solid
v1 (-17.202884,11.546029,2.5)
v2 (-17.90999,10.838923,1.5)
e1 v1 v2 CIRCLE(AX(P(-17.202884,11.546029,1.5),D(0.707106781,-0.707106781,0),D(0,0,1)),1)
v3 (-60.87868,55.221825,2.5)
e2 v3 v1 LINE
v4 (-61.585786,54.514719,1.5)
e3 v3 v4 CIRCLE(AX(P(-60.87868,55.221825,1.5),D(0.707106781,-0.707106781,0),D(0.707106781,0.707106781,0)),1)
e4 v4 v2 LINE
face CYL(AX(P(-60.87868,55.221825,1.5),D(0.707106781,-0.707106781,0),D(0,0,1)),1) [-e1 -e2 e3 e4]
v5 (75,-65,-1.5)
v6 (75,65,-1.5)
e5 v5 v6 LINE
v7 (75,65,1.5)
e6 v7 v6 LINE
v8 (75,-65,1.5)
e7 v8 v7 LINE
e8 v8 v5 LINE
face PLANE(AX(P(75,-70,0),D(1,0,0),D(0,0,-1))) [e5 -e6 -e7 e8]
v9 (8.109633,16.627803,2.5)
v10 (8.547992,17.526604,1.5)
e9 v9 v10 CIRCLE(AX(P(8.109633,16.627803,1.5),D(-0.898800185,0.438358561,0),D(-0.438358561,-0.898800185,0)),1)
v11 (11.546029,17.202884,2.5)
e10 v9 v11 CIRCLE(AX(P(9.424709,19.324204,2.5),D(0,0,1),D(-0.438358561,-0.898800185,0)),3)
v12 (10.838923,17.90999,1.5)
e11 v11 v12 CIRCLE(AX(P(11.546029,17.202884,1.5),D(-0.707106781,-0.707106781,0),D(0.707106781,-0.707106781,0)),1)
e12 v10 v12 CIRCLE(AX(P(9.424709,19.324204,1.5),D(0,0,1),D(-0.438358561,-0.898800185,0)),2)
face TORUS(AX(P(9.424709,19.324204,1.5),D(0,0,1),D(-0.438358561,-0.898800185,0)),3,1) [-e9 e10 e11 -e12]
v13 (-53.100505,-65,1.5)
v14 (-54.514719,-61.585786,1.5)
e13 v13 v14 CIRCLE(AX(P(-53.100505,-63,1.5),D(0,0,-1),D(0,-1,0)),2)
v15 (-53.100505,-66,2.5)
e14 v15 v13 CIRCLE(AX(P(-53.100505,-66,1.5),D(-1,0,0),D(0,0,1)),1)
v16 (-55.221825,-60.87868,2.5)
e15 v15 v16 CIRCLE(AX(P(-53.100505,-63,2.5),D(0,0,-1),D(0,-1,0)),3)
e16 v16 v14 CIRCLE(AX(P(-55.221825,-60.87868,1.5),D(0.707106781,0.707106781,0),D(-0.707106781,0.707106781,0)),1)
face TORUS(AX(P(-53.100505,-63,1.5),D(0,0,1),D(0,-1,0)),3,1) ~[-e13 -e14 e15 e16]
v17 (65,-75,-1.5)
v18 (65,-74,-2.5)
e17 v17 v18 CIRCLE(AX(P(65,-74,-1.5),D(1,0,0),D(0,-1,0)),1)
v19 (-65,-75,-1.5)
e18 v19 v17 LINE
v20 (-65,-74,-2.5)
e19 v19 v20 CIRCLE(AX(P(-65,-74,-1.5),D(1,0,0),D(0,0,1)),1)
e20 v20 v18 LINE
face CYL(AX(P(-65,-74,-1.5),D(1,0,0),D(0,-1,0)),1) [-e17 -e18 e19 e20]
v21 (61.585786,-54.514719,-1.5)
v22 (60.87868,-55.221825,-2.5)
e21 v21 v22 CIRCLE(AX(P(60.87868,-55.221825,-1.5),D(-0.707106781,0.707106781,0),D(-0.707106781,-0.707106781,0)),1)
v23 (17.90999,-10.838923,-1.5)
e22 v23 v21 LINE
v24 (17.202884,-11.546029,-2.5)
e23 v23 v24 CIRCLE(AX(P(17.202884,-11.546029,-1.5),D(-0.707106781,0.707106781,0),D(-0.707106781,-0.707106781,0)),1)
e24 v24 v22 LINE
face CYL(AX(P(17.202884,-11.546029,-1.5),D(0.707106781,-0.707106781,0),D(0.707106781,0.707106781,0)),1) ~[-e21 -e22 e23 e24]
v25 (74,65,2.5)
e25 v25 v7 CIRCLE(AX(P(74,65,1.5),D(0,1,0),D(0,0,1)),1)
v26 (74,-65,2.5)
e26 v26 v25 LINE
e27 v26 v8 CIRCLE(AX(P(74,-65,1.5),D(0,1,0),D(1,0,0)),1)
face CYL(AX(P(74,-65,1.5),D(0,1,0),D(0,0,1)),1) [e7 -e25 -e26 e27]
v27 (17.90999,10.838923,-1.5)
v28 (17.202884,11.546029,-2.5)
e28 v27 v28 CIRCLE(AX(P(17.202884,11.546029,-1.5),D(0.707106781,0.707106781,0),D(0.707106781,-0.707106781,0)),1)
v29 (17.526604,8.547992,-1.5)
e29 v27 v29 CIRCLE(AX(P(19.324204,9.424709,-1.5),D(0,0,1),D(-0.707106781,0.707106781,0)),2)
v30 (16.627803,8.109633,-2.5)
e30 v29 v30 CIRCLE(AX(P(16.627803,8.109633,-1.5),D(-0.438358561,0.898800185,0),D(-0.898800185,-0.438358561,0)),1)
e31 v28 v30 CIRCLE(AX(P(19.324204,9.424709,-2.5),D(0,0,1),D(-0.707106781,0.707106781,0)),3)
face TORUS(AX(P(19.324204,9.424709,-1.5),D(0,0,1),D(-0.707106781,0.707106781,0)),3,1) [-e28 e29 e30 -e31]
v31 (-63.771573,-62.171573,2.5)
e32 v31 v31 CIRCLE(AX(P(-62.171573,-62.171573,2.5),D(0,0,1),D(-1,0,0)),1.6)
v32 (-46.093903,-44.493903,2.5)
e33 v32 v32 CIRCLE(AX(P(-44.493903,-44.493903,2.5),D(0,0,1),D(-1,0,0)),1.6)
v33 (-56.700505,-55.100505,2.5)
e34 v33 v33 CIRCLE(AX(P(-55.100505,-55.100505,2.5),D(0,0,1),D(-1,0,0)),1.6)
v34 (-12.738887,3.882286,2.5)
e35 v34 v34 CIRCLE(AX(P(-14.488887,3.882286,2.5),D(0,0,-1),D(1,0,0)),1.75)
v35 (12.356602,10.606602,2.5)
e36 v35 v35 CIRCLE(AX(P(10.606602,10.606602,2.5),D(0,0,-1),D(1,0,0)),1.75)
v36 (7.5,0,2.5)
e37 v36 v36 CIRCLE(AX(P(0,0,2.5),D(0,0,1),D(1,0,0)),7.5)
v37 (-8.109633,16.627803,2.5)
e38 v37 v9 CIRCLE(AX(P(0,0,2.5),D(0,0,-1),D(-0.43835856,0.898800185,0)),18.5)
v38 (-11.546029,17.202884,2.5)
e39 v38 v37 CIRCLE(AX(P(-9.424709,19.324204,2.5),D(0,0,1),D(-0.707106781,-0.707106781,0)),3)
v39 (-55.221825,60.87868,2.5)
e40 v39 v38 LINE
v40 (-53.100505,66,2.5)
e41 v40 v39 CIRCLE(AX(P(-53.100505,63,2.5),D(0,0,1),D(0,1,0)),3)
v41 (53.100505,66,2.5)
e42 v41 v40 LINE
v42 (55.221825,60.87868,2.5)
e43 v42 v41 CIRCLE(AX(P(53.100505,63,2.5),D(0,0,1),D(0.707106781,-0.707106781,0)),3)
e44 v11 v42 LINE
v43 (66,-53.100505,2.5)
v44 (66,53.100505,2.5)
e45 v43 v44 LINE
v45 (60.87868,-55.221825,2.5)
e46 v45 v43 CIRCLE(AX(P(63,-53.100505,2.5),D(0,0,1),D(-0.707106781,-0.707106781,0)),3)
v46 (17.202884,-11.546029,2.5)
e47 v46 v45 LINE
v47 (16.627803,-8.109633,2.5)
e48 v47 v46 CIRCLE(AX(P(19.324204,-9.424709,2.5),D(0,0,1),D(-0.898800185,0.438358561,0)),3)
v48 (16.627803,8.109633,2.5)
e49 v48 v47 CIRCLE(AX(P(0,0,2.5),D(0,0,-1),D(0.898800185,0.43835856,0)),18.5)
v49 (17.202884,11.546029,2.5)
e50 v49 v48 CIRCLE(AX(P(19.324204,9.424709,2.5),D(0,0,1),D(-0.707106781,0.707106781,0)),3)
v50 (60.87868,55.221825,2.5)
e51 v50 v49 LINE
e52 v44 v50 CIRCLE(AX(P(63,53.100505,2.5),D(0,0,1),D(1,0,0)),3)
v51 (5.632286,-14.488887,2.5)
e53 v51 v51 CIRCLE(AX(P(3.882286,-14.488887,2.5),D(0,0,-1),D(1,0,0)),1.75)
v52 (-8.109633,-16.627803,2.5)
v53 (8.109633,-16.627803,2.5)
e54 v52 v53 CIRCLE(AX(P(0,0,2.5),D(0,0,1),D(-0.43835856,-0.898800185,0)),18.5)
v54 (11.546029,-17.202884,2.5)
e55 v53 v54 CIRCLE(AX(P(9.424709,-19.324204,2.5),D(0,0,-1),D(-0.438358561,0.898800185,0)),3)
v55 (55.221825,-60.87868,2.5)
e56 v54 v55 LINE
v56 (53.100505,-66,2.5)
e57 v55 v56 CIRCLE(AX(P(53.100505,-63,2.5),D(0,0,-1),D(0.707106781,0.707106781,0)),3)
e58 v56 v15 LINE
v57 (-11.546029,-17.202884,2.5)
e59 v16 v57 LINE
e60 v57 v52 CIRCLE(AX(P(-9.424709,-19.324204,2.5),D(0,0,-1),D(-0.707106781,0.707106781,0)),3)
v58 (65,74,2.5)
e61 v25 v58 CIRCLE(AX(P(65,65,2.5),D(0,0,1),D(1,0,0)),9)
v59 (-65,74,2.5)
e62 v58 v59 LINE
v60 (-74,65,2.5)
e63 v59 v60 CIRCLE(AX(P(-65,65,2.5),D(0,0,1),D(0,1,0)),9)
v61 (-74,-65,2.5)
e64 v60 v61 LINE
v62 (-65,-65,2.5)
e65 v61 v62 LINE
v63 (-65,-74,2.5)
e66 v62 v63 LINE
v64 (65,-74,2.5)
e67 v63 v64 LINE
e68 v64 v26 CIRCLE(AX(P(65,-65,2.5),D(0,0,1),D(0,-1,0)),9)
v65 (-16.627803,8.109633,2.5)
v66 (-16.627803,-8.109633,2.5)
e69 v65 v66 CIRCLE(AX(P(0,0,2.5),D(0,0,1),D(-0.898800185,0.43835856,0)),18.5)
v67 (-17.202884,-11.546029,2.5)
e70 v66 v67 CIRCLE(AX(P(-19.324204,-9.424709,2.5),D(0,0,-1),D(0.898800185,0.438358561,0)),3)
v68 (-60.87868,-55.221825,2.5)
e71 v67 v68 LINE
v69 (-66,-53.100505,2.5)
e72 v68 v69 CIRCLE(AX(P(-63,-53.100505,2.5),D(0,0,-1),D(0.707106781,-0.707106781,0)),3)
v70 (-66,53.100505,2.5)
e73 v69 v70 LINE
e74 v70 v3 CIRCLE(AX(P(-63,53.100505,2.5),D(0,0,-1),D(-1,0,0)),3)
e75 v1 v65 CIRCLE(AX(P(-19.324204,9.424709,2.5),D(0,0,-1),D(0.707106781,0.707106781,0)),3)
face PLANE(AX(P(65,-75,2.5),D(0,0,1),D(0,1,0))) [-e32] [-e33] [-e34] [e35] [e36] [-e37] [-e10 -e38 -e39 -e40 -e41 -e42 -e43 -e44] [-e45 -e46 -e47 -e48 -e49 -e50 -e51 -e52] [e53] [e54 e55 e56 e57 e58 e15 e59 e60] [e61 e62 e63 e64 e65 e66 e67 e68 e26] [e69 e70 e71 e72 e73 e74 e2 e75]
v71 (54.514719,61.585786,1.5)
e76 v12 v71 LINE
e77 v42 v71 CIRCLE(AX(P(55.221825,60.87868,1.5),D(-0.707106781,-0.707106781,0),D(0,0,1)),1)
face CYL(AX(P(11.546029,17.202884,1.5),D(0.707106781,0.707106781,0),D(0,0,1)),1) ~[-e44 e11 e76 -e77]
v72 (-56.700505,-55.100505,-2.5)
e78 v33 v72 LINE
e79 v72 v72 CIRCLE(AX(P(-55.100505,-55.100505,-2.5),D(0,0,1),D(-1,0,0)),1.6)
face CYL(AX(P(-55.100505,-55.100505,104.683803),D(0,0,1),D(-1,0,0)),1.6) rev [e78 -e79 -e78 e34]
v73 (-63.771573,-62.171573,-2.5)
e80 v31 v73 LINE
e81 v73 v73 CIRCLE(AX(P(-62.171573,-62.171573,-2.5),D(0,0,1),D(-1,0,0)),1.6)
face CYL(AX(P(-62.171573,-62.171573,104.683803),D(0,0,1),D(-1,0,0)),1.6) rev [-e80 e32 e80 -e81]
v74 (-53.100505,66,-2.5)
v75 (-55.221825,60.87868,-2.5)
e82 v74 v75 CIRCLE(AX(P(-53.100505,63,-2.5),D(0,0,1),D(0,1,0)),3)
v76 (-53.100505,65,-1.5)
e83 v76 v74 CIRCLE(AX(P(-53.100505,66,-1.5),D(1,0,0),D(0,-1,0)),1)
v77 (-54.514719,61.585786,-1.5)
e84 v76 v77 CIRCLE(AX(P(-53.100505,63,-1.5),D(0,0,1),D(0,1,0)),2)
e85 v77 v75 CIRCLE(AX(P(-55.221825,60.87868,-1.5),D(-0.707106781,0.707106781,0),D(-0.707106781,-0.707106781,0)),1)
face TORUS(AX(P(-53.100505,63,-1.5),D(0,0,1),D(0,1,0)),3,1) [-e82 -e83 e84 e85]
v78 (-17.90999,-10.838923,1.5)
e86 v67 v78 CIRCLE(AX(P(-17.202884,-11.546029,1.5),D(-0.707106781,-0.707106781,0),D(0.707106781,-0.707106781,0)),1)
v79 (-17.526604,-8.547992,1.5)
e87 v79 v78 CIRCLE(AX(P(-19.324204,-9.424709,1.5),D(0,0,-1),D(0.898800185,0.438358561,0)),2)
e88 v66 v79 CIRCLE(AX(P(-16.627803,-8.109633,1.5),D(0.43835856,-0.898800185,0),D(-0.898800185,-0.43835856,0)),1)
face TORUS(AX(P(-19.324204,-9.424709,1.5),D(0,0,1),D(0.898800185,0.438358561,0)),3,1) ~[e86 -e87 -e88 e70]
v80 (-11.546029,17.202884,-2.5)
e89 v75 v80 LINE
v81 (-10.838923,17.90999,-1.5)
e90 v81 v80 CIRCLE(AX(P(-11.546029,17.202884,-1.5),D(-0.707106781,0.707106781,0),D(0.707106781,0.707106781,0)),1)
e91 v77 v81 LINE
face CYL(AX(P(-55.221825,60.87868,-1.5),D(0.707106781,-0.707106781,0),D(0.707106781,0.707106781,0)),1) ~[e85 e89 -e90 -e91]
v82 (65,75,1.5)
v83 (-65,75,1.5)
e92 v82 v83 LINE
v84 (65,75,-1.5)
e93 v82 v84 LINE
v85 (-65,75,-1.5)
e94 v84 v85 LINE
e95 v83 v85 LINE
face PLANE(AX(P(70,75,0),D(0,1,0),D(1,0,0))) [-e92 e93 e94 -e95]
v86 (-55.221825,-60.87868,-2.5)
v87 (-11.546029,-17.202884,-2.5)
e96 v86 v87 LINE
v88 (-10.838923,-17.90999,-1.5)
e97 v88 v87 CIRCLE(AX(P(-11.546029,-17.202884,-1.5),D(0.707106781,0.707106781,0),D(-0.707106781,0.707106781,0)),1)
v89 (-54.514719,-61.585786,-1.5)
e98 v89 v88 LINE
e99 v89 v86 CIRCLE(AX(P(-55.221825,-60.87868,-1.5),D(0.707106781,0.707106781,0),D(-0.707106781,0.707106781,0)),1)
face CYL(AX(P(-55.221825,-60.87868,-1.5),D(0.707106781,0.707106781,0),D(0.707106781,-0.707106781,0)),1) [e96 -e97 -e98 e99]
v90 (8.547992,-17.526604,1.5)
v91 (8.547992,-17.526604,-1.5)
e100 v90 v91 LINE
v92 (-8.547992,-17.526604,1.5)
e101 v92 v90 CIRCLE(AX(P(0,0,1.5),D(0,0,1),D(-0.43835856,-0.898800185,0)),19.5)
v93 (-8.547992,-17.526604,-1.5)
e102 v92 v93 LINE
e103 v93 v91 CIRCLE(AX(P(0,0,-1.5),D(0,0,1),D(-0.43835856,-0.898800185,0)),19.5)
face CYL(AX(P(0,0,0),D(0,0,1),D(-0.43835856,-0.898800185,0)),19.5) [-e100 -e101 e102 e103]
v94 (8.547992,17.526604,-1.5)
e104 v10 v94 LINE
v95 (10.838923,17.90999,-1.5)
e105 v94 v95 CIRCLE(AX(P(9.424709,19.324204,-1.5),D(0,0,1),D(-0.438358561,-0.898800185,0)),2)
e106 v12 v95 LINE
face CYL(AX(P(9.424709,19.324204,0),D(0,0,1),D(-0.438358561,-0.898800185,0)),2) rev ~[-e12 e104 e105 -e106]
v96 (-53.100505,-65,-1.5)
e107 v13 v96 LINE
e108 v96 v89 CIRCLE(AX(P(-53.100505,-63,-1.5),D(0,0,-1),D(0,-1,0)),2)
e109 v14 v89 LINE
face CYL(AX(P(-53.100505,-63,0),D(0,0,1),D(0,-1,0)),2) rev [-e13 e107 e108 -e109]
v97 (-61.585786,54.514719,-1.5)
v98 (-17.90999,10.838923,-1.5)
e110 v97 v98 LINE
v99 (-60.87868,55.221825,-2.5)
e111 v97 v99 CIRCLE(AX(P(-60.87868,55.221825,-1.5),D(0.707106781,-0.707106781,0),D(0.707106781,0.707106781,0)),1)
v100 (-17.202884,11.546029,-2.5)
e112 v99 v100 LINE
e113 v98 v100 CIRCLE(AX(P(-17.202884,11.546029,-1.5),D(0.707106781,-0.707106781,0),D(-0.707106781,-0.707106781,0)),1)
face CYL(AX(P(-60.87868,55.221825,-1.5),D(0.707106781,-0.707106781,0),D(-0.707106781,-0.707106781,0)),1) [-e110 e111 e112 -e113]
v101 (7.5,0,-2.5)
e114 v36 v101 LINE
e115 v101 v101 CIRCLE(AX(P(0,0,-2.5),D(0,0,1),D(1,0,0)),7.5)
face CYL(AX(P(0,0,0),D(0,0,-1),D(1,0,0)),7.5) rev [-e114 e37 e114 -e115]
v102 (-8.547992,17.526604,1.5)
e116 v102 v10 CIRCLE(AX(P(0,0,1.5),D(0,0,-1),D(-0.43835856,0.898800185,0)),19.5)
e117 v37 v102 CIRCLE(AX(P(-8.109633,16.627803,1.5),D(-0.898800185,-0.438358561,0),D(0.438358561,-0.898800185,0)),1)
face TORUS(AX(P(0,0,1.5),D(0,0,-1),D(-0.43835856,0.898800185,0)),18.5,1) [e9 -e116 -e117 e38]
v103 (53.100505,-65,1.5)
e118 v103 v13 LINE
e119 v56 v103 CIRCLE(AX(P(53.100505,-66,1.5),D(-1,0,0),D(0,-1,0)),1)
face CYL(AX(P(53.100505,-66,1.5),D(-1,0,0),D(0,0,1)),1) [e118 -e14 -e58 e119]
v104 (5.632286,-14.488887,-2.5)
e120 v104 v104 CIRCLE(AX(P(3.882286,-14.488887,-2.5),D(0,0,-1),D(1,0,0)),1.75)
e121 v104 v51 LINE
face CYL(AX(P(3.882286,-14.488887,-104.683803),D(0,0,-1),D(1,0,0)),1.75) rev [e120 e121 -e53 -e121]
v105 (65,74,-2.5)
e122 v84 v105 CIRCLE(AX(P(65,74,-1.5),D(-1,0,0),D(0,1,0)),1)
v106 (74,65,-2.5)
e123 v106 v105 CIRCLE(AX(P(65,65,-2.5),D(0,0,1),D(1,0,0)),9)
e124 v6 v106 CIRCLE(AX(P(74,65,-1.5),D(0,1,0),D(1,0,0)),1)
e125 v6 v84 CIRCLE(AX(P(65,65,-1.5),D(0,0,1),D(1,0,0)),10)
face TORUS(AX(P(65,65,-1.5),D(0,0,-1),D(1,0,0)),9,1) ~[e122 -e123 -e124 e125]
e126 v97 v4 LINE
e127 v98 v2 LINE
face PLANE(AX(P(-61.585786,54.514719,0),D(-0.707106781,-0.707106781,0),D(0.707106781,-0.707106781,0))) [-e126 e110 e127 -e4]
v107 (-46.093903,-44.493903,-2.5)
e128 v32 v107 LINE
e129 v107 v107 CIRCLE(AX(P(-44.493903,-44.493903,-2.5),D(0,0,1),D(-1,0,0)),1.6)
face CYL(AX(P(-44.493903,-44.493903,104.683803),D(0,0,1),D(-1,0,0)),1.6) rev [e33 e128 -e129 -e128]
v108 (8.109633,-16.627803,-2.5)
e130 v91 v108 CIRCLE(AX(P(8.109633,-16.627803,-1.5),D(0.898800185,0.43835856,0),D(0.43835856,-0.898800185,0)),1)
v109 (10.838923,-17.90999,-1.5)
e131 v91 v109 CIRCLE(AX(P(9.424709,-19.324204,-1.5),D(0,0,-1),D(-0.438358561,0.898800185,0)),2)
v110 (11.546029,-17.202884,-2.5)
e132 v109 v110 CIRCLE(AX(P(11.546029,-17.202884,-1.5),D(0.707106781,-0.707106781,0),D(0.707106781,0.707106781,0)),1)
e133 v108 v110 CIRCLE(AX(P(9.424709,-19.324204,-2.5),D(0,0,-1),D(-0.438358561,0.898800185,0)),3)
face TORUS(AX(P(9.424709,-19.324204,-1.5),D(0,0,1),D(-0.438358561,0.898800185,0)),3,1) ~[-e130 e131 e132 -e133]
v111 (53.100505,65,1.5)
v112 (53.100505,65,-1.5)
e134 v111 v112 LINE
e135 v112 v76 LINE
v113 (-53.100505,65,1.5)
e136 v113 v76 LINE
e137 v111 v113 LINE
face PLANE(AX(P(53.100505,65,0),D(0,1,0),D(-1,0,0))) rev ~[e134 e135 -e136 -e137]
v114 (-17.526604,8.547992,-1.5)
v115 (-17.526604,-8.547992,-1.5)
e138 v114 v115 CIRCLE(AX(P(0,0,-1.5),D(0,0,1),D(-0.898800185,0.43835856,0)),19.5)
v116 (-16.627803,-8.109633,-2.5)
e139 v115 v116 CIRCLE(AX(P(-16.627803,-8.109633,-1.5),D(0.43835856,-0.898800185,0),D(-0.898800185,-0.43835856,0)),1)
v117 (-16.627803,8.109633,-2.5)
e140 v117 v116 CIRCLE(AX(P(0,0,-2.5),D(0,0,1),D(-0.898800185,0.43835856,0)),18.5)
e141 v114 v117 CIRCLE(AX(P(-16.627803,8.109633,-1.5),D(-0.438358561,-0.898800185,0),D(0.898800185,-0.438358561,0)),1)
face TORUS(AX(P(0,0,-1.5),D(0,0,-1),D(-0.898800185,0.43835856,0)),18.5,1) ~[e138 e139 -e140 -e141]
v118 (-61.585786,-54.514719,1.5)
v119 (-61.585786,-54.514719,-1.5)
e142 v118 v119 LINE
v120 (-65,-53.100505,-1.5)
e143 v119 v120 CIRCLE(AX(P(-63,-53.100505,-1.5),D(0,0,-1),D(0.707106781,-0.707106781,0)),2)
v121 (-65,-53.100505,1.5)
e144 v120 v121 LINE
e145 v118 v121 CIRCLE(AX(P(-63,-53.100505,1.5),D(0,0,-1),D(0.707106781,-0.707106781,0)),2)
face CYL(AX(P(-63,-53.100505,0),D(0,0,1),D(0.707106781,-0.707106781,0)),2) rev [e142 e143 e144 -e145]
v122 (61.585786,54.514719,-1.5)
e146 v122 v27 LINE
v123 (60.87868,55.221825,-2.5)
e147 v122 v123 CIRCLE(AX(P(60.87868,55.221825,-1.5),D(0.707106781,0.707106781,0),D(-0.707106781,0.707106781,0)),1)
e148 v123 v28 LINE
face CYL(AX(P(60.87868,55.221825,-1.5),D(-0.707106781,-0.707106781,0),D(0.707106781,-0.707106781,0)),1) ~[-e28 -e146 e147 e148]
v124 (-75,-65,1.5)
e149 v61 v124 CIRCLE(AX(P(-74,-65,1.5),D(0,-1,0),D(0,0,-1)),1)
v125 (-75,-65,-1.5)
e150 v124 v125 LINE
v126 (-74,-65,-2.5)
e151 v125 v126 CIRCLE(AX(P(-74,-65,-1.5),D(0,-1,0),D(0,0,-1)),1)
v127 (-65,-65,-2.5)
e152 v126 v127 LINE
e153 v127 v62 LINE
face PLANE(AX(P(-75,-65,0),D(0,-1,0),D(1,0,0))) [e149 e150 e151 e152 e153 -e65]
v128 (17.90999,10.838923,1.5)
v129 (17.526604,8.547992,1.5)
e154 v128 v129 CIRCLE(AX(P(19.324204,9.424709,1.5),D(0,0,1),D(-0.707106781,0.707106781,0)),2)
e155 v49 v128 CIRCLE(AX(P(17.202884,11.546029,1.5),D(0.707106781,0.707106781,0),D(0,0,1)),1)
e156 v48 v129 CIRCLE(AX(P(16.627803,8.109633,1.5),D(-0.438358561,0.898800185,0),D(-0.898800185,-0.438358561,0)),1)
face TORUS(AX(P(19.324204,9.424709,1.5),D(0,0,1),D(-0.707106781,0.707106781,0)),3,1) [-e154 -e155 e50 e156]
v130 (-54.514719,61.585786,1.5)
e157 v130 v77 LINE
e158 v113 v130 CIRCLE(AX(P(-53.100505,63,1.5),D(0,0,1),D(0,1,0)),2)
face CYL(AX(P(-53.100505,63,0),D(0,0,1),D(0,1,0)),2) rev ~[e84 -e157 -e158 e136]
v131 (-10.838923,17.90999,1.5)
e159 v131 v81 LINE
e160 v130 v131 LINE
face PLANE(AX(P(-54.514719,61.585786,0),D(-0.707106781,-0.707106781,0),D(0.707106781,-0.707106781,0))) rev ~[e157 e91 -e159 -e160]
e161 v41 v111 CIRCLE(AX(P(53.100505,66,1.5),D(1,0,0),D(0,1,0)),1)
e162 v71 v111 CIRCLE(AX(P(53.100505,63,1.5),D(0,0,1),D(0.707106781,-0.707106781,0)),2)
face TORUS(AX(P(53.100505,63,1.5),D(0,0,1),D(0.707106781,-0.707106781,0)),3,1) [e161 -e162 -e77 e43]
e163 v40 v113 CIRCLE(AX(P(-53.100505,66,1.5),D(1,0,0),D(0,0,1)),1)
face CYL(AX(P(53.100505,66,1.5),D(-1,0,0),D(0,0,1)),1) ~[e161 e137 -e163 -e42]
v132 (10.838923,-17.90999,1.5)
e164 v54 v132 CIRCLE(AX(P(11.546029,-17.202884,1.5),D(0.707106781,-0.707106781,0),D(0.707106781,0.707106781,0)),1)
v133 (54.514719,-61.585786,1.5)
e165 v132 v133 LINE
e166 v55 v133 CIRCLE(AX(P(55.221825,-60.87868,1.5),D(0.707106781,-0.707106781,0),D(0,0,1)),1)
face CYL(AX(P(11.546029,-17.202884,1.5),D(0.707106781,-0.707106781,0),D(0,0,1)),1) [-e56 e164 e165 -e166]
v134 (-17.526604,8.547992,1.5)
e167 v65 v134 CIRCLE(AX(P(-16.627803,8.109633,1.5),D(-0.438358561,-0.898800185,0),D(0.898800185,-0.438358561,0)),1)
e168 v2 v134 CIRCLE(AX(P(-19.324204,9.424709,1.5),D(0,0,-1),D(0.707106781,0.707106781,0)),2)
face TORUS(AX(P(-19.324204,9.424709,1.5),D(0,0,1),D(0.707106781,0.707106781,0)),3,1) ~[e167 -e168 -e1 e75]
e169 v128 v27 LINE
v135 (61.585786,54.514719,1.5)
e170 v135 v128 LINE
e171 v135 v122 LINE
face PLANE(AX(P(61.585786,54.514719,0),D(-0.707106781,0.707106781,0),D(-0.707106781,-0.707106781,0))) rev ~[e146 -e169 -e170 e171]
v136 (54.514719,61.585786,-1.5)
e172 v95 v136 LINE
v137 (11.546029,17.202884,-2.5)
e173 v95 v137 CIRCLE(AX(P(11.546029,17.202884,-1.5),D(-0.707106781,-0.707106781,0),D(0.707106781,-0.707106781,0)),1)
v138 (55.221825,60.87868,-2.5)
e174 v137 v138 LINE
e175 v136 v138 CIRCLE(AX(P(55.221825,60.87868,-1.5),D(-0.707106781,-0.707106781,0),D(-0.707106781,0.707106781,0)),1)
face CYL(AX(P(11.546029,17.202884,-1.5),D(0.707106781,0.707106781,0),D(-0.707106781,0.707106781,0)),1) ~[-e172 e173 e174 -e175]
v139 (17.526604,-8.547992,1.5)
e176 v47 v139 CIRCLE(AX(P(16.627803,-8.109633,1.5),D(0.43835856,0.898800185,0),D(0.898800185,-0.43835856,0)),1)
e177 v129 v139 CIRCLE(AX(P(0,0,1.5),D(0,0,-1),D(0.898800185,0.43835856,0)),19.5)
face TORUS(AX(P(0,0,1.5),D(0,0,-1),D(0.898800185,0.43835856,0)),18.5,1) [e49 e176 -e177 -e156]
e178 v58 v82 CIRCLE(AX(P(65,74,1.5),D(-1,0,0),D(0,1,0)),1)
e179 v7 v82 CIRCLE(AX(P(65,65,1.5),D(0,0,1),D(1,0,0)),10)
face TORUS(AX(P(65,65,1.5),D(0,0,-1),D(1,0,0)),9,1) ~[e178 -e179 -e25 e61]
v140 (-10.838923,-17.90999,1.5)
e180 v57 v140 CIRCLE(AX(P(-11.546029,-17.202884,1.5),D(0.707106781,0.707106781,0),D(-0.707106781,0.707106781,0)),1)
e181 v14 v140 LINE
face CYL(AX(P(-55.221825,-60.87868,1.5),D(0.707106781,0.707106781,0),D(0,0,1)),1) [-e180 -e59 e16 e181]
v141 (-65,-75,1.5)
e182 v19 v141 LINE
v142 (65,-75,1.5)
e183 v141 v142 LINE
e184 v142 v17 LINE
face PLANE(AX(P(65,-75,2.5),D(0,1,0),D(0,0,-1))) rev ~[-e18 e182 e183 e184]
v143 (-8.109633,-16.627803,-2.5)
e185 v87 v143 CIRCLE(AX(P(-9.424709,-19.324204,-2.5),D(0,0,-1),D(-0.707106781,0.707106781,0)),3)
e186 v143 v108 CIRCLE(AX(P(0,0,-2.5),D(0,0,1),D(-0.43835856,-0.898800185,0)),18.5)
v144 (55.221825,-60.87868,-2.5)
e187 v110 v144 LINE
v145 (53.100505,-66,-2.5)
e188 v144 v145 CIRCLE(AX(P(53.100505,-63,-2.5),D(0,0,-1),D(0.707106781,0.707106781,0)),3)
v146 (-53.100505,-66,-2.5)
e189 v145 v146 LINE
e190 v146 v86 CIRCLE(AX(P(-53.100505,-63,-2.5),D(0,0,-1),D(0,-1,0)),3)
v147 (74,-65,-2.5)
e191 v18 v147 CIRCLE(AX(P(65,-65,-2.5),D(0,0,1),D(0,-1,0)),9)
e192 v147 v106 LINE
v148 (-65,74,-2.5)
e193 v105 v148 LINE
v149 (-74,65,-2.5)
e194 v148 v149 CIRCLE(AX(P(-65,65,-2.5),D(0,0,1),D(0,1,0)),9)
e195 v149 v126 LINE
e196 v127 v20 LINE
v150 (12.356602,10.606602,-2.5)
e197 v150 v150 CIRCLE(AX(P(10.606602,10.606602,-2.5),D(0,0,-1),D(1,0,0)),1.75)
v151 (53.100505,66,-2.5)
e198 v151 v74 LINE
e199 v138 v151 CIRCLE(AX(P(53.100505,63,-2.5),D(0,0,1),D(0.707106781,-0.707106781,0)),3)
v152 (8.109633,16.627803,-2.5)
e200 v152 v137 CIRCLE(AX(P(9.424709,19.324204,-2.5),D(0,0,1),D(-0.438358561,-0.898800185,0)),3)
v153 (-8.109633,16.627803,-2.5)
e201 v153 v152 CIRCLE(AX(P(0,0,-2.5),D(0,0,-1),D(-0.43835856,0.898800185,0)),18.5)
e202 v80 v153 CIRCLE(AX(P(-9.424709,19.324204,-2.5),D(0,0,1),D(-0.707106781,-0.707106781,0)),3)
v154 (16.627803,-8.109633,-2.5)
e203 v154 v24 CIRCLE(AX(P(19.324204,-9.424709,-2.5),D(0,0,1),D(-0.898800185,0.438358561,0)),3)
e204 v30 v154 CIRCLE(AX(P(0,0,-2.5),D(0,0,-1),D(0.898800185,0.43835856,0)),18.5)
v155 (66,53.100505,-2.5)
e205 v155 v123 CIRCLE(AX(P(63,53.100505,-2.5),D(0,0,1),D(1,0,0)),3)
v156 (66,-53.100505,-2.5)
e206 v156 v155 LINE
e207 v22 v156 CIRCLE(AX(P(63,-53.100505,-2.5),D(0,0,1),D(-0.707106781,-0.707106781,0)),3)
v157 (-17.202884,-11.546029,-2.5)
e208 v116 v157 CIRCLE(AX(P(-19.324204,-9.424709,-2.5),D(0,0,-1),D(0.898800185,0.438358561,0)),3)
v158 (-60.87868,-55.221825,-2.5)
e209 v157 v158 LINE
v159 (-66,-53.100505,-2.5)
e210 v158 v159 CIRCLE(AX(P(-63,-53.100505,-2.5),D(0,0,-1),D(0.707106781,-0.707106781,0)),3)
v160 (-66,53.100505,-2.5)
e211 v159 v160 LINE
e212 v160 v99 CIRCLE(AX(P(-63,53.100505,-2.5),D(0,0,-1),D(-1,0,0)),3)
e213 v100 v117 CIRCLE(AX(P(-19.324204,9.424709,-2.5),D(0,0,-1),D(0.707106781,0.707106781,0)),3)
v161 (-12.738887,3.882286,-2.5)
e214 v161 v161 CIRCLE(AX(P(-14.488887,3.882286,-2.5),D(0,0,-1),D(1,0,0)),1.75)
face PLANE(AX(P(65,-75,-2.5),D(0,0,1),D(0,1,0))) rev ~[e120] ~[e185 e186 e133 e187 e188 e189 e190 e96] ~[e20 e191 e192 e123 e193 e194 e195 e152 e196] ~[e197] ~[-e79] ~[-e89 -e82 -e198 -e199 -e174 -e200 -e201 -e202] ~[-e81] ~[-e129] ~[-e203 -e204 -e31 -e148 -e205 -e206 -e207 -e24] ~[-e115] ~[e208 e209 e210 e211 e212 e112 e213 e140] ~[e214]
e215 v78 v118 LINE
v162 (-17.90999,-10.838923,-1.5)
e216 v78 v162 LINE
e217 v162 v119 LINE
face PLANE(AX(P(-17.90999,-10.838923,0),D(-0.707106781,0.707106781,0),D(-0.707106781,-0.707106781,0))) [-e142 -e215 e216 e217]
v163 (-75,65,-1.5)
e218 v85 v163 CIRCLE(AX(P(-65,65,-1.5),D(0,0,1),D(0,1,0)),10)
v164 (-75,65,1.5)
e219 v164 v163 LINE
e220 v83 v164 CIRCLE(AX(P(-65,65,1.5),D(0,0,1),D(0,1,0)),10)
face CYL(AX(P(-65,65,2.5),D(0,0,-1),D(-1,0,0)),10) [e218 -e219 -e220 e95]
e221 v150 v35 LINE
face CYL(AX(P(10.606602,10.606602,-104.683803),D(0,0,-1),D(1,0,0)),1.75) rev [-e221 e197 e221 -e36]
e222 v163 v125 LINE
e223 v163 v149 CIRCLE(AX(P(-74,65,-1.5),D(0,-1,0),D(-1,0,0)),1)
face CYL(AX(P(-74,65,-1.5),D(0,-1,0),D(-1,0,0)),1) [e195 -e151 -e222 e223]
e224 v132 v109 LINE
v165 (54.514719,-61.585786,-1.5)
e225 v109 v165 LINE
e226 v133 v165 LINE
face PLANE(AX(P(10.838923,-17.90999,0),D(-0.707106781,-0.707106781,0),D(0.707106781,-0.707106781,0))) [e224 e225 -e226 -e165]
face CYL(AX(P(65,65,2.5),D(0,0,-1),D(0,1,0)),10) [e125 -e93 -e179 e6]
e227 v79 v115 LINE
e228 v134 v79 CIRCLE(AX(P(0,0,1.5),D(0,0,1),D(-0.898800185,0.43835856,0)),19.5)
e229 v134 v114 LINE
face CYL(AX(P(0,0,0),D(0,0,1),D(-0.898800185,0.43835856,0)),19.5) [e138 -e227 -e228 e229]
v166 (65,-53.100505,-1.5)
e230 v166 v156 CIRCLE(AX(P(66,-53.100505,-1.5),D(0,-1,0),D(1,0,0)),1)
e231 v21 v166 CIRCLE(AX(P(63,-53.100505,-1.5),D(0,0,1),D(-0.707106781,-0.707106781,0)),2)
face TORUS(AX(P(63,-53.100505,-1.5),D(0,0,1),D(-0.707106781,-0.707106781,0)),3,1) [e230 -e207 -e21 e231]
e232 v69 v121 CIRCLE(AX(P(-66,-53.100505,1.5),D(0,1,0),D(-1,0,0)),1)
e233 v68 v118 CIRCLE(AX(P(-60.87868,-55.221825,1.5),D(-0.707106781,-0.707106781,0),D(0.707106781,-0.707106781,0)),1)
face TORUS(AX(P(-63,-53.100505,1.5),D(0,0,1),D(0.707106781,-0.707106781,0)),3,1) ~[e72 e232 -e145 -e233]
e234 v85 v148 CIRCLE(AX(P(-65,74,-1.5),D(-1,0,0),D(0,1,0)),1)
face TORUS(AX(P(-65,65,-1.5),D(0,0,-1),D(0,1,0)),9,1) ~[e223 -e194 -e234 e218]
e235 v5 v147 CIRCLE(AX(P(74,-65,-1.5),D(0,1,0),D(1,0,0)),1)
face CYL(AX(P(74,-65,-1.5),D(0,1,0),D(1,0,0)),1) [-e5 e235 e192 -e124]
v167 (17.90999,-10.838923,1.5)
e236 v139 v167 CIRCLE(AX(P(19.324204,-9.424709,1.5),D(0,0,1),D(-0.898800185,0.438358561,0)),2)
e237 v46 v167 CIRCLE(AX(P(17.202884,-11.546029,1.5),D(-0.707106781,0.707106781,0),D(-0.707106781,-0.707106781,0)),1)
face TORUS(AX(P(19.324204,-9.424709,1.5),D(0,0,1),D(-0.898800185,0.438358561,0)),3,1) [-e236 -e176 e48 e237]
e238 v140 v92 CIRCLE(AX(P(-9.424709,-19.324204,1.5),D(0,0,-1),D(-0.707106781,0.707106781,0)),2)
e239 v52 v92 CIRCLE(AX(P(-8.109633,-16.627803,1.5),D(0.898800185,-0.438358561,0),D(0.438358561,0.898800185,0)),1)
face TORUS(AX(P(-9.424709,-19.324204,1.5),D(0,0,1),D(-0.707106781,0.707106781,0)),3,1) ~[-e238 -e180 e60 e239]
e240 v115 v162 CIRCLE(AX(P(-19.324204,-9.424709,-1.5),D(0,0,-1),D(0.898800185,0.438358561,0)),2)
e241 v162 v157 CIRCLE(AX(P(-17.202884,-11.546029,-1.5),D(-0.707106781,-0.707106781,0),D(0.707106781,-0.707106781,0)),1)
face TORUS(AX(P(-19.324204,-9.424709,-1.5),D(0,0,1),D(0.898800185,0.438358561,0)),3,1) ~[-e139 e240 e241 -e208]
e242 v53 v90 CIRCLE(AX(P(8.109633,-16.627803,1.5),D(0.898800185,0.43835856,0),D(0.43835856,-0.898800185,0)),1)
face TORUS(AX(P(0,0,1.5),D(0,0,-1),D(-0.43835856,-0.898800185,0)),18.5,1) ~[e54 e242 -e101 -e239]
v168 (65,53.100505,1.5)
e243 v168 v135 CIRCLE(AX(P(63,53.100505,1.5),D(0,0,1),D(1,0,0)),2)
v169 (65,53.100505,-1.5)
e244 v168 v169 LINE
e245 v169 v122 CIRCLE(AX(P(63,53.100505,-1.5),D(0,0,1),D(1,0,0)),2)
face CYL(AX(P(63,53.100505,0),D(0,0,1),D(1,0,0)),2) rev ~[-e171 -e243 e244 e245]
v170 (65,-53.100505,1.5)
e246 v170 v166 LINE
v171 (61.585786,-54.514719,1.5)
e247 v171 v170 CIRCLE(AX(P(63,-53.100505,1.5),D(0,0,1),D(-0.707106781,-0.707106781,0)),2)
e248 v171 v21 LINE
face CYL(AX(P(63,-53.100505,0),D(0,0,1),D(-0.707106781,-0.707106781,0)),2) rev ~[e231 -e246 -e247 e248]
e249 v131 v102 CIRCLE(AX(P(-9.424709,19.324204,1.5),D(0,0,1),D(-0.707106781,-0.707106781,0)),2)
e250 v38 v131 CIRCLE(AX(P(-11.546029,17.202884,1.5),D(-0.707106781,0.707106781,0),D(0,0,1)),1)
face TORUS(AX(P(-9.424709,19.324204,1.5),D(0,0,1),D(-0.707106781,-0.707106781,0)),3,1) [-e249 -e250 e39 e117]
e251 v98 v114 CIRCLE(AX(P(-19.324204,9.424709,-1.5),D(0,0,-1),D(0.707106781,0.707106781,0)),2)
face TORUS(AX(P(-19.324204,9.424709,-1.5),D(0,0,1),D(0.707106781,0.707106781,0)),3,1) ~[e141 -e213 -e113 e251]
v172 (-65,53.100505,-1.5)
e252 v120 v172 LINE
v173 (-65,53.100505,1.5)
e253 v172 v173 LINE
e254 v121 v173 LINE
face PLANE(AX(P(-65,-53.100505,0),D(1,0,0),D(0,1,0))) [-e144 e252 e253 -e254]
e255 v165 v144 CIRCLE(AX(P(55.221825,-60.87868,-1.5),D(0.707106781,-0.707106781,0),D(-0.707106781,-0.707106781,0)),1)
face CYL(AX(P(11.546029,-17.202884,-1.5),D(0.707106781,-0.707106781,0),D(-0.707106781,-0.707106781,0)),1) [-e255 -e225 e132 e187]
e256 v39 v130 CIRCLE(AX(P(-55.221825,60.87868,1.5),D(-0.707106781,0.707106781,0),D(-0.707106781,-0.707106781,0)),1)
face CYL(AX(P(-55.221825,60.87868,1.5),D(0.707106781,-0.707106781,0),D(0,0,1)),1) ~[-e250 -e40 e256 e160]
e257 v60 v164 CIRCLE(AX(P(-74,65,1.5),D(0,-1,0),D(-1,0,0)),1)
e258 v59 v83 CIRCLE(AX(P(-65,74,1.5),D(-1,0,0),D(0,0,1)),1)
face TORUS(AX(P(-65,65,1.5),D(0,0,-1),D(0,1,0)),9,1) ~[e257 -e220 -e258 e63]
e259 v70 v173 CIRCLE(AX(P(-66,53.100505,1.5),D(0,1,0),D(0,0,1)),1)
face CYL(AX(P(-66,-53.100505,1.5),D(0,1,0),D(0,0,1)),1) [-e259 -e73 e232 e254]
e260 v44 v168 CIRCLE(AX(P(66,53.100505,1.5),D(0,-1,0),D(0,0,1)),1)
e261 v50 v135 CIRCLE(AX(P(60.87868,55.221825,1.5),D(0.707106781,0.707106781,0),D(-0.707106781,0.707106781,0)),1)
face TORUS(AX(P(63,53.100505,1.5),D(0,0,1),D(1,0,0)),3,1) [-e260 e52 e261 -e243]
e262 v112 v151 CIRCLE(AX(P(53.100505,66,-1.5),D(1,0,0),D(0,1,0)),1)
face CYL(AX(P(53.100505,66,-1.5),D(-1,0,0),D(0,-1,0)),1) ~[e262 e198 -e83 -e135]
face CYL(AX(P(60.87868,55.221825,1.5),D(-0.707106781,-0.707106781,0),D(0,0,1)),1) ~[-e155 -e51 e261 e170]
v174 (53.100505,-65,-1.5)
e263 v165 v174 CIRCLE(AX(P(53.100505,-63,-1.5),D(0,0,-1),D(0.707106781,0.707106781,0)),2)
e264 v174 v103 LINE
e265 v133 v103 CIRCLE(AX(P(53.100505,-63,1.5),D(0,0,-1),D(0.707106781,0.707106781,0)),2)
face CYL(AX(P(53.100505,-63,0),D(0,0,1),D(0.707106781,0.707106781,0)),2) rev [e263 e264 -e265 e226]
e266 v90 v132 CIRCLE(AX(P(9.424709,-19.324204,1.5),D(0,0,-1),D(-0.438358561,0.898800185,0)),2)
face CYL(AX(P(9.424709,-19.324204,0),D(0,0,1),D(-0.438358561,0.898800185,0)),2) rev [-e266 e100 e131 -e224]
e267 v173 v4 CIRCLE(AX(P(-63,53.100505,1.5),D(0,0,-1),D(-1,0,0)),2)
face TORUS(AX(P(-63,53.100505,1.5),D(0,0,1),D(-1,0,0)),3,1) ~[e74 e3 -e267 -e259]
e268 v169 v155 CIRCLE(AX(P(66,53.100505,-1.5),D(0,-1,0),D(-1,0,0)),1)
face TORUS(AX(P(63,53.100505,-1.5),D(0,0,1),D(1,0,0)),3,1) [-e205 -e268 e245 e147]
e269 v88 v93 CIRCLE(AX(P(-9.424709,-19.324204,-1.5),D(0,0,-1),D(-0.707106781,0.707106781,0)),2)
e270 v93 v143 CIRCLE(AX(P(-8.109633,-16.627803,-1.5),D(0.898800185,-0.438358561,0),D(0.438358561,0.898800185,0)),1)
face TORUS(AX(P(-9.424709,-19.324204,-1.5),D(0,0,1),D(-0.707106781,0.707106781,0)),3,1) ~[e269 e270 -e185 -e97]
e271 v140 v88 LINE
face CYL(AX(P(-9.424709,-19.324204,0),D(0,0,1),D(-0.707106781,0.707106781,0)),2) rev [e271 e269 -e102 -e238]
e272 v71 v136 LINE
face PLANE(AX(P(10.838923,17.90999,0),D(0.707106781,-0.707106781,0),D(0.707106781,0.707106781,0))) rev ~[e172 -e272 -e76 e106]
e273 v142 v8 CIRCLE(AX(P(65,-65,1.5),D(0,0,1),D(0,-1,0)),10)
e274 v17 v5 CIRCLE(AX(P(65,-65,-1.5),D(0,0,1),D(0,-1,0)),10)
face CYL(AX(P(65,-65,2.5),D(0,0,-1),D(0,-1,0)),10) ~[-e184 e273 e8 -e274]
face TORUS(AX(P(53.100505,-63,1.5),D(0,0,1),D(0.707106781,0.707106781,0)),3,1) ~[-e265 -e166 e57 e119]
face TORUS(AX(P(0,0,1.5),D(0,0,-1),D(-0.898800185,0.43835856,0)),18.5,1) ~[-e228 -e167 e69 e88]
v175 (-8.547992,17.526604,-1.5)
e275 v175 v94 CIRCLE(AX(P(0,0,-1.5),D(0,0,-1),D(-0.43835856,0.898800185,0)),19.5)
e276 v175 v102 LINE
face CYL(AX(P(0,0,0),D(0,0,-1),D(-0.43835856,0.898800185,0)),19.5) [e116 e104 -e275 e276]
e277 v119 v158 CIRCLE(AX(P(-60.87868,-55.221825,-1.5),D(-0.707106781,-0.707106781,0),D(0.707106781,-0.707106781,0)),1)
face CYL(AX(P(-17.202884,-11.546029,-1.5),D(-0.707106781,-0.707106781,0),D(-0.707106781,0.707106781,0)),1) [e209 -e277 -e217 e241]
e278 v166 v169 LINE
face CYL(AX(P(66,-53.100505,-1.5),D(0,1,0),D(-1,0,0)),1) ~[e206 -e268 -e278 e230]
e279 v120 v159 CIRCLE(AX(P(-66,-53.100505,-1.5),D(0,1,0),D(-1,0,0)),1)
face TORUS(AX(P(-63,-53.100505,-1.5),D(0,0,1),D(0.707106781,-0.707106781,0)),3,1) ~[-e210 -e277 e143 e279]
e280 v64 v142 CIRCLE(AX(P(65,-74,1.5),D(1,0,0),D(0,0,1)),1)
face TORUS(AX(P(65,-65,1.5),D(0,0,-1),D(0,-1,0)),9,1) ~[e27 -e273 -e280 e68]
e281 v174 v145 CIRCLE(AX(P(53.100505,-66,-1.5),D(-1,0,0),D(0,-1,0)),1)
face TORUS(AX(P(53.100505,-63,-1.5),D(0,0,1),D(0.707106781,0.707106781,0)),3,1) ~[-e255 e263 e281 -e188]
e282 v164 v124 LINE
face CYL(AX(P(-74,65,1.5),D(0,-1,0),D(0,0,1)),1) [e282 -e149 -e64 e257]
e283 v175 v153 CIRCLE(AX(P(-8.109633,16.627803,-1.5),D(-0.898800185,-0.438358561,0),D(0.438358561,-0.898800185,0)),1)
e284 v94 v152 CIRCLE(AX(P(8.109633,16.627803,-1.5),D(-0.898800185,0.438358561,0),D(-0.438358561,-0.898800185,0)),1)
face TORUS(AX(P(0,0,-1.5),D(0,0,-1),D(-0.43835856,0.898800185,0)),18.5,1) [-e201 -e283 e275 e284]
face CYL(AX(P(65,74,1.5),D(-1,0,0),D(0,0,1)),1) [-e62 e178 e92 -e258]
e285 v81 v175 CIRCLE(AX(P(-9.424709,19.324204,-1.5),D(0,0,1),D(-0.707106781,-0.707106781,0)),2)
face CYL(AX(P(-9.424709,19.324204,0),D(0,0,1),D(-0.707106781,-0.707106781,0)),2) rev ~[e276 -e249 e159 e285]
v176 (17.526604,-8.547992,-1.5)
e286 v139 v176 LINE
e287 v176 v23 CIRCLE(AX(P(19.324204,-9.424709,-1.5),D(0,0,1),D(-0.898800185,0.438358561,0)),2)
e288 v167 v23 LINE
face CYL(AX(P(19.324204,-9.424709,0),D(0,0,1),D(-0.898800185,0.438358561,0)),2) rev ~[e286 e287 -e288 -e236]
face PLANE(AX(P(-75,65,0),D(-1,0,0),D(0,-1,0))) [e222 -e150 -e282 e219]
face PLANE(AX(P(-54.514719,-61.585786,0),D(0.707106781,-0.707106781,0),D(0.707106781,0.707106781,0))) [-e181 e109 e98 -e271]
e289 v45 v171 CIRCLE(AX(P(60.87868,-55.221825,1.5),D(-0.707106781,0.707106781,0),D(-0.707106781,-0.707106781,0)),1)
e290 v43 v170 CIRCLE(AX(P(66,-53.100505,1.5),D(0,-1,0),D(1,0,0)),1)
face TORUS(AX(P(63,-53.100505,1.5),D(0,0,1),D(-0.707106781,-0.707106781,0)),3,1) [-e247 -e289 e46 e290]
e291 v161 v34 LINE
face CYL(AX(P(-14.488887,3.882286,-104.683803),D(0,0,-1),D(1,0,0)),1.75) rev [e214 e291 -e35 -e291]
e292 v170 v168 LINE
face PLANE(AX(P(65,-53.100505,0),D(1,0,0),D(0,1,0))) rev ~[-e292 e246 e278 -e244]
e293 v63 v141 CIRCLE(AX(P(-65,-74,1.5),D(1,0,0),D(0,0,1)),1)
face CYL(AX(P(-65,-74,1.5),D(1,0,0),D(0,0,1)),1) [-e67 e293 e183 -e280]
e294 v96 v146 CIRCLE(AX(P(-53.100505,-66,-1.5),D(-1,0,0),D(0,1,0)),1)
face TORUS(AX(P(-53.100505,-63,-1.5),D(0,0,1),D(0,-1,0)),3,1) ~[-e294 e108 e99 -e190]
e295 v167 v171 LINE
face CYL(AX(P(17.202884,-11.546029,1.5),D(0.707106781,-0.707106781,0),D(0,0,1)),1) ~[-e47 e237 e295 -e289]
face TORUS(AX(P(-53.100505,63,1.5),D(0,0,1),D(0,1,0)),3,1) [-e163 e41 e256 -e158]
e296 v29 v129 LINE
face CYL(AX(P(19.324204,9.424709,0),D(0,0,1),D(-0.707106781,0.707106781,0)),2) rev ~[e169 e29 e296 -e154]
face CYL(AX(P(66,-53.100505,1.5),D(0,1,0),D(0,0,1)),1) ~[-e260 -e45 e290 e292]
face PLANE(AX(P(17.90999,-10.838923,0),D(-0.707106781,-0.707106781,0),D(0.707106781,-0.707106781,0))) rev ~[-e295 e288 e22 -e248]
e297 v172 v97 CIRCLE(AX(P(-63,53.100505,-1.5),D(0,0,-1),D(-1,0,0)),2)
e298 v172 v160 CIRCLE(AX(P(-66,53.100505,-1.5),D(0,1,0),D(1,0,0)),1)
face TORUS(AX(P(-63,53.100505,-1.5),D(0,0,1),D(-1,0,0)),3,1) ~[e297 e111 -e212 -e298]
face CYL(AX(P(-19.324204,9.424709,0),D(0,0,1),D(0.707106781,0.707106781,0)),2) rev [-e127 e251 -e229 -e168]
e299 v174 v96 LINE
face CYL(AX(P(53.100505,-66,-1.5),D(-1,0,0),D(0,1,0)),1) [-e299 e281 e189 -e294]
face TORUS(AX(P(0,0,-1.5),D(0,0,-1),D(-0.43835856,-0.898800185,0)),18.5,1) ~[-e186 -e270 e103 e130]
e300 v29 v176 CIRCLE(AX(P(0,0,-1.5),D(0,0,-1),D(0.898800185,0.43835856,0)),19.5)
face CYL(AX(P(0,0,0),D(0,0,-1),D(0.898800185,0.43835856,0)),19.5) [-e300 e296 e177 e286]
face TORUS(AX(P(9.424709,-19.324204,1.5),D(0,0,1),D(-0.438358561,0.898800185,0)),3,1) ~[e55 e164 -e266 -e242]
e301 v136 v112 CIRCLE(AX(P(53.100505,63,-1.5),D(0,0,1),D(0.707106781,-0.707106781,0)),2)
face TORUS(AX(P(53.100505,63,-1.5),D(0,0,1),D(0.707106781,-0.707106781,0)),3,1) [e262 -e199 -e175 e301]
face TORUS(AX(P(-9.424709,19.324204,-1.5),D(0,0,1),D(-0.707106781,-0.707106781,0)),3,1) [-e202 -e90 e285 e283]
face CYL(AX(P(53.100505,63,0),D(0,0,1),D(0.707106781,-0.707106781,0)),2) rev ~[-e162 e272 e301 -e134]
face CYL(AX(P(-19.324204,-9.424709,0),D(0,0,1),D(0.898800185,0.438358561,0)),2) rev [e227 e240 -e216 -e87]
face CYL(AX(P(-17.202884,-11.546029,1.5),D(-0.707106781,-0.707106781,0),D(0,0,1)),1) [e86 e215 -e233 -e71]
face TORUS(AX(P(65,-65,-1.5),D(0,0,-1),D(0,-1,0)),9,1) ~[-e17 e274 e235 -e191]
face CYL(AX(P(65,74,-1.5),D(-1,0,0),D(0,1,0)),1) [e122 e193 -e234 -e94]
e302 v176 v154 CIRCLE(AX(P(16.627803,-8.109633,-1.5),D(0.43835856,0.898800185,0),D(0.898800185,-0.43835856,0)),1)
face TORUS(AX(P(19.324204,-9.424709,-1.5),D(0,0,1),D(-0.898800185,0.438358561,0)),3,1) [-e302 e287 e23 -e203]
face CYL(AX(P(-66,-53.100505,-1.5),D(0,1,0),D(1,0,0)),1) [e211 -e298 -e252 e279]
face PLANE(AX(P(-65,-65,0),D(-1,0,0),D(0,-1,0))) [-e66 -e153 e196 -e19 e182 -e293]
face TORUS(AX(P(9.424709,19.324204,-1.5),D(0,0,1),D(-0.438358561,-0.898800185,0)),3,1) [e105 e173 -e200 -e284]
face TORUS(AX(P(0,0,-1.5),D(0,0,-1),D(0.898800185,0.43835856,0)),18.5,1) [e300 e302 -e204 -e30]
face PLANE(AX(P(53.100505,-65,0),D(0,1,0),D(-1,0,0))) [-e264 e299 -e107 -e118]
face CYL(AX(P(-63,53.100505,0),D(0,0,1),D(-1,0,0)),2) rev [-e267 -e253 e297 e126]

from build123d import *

# Parameters (mm, degrees)
SKETCH1_R               = 7.5
BOSS_EXTRUDE1_DEPTH     = 2.5
FILLET1_R               = 1
CUT_EXTRUDE3_DEPTH      = 107.183802908
CUT_EXTRUDE3_DEPTH_BACK = 107.183802908
SKETCH5_R               = 1.75
SKETCH6_W               = 10
SKETCH6_H               = 5
BOSS_EXTRUDE4_DEPTH     = 10
SKETCH7_W               = 5
SKETCH7_H               = 10
BOSS_EXTRUDE5_DEPTH     = 10
FILLET2_R               = 10
CUT_EXTRUDE4_DEPTH      = 107.183802913
CUT_EXTRUDE4_DEPTH_BACK = 107.183802913
SKETCH3_R               = 1.6
FILLET3_R               = 1


with BuildPart() as part:
    # Sketch1 → Boss-Extrude1 (new, symmetric)
    with BuildSketch(Plane.XY):
        Polygon((-75, -65), (-65, -65), (-65, -75), (65, -75), (65, -65), (75, -65), (75, 65), (65, 65), (65, 75), (-65, 75), (-65, 65), (-75, 65), align=None)
        Circle(SKETCH1_R, mode=Mode.SUBTRACT)
        with BuildLine():
            Line((-65, -53.100505063), (-65, 53.100505063))
            ThreePointArc((-65, 53.100505063), (-63.765366865, 54.948264128), (-61.585786438, 54.514718626))
            Line((-61.585786438, 54.514718626), (-17.909990417, 10.838922606))
            ThreePointArc((-17.909990417, 10.838922606), (-17.351635088, 9.754818067), (-17.52660361, 8.547991923))
            ThreePointArc((-17.52660361, 8.547991923), (-19.5, 0), (-17.52660361, -8.547991923))
            ThreePointArc((-17.52660361, -8.547991923), (-17.351635088, -9.754818067), (-17.909990417, -10.838922606))
            Line((-17.909990417, -10.838922606), (-61.585786438, -54.514718626))
            ThreePointArc((-61.585786438, -54.514718626), (-63.765366865, -54.948264128), (-65, -53.100505063))
        make_face(mode=Mode.SUBTRACT)
        with BuildLine():
            Line((53.100505063, 65), (-53.100505063, 65))
            ThreePointArc((-53.100505063, 65), (-54.948264128, 63.765366865), (-54.514718626, 61.585786438))
            Line((-54.514718626, 61.585786438), (-10.838922606, 17.909990417))
            ThreePointArc((-10.838922606, 17.909990417), (-9.754818067, 17.351635088), (-8.547991923, 17.52660361))
            ThreePointArc((-8.547991923, 17.52660361), (0, 19.5), (8.547991923, 17.52660361))
            ThreePointArc((8.547991923, 17.52660361), (9.754818067, 17.351635088), (10.838922606, 17.909990417))
            Line((10.838922606, 17.909990417), (54.514718626, 61.585786438))
            ThreePointArc((54.514718626, 61.585786438), (54.948264128, 63.765366865), (53.100505063, 65))
        make_face(mode=Mode.SUBTRACT)
        with BuildLine():
            Line((65, -53.100505063), (65, 53.100505063))
            ThreePointArc((65, 53.100505063), (63.765366865, 54.948264128), (61.585786438, 54.514718626))
            Line((61.585786438, 54.514718626), (17.909990417, 10.838922606))
            ThreePointArc((17.909990417, 10.838922606), (17.351635088, 9.754818067), (17.52660361, 8.547991923))
            ThreePointArc((17.52660361, 8.547991923), (19.5, 0), (17.52660361, -8.547991923))
            ThreePointArc((17.52660361, -8.547991923), (17.351635088, -9.754818067), (17.909990417, -10.838922606))
            Line((17.909990417, -10.838922606), (61.585786438, -54.514718626))
            ThreePointArc((61.585786438, -54.514718626), (63.765366865, -54.948264128), (65, -53.100505063))
        make_face(mode=Mode.SUBTRACT)
        with BuildLine():
            Line((53.100505063, -65), (-53.100505063, -65))
            ThreePointArc((-53.100505063, -65), (-54.948264128, -63.765366865), (-54.514718626, -61.585786438))
            Line((-54.514718626, -61.585786438), (-10.838922606, -17.909990417))
            ThreePointArc((-10.838922606, -17.909990417), (-9.754818067, -17.351635088), (-8.547991923, -17.52660361))
            ThreePointArc((-8.547991923, -17.52660361), (0, -19.5), (8.547991923, -17.52660361))
            ThreePointArc((8.547991923, -17.52660361), (9.754818067, -17.351635088), (10.838922606, -17.909990417))
            Line((10.838922606, -17.909990417), (54.514718626, -61.585786438))
            ThreePointArc((54.514718626, -61.585786438), (54.948264128, -63.765366865), (53.100505063, -65))
        make_face(mode=Mode.SUBTRACT)
    extrude(amount=BOSS_EXTRUDE1_DEPTH, both=True)

    # Fillet1
    fillet1_edges = [part.edges().sort_by_distance(p)[0] for p in [
        (-63.765366865, -54.948264128, -2.5),
        (-39.747888428, -32.676820616, -2.5),
        (-17.351635088, -9.754818067, -2.5),
        (-19.5, 0, -2.5),
        (-17.351635088, 9.754818067, -2.5),
        (-39.747888428, 32.676820616, -2.5),
        (-63.765366865, 54.948264128, -2.5),
        (-65, 0, -2.5),
        (-63.765366865, -54.948264128, 2.5),
        (-39.747888428, -32.676820616, 2.5),
        (-17.351635088, -9.754818067, 2.5),
        (-19.5, 0, 2.5),
        (-17.351635088, 9.754818067, 2.5),
        (-39.747888428, 32.676820616, 2.5),
        (-63.765366865, 54.948264128, 2.5),
        (-65, 0, 2.5),
        (9.754818067, 17.351635088, -2.5),
        (32.676820616, 39.747888428, -2.5),
        (54.948264128, 63.765366865, -2.5),
        (0, 65, -2.5),
        (-54.948264128, 63.765366865, -2.5),
        (-32.676820616, 39.747888428, -2.5),
        (-9.754818067, 17.351635088, -2.5),
        (0, 19.5, -2.5),
        (9.754818067, 17.351635088, 2.5),
        (32.676820616, 39.747888428, 2.5),
        (54.948264128, 63.765366865, 2.5),
        (0, 65, 2.5),
        (-54.948264128, 63.765366865, 2.5),
        (-32.676820616, 39.747888428, 2.5),
        (-9.754818067, 17.351635088, 2.5),
        (0, 19.5, 2.5),
        (63.765366865, -54.948264128, -2.5),
        (65, 0, -2.5),
        (63.765366865, 54.948264128, -2.5),
        (39.747888428, 32.676820616, -2.5),
        (17.351635088, 9.754818067, -2.5),
        (19.5, 0, -2.5),
        (17.351635088, -9.754818067, -2.5),
        (39.747888428, -32.676820616, -2.5),
        (63.765366865, -54.948264128, 2.5),
        (65, 0, 2.5),
        (63.765366865, 54.948264128, 2.5),
        (39.747888428, 32.676820616, 2.5),
        (17.351635088, 9.754818067, 2.5),
        (19.5, 0, 2.5),
        (17.351635088, -9.754818067, 2.5),
        (39.747888428, -32.676820616, 2.5),
        (-9.754818067, -17.351635088, -2.5),
        (-32.676820616, -39.747888428, -2.5),
        (-54.948264128, -63.765366865, -2.5),
        (0, -65, -2.5),
        (54.948264128, -63.765366865, -2.5),
        (32.676820616, -39.747888428, -2.5),
        (9.754818067, -17.351635088, -2.5),
        (0, -19.5, -2.5),
        (-9.754818067, -17.351635088, 2.5),
        (-32.676820616, -39.747888428, 2.5),
        (-54.948264128, -63.765366865, 2.5),
        (0, -65, 2.5),
        (54.948264128, -63.765366865, 2.5),
        (32.676820616, -39.747888428, 2.5),
        (9.754818067, -17.351635088, 2.5),
        (0, -19.5, 2.5),
    ]]
    fillet(fillet1_edges, radius=FILLET1_R)

    # Sketch5 → Cut-Extrude3 (cut, two sides: drawn at the far end of the back side and taken through both)
    with BuildSketch(Plane.XY.offset(2.5).offset(-CUT_EXTRUDE3_DEPTH_BACK)):
        with Locations((10.606601718, 10.606601718)):
            Circle(SKETCH5_R)
        with Locations((3.882285677, -14.488887394)):
            Circle(SKETCH5_R)
        with Locations((-14.488887394, 3.882285677)):
            Circle(SKETCH5_R)
    extrude(amount=CUT_EXTRUDE3_DEPTH + CUT_EXTRUDE3_DEPTH_BACK, mode=Mode.SUBTRACT)

    # Sketch6 → Boss-Extrude4 (add)
    with BuildSketch(Plane(origin=(0, 65, 0), x_dir=(1, 0, 0), z_dir=(0, 1, 0))):
        with Locations((70, 0)):
            Rectangle(SKETCH6_W, SKETCH6_H)
        with Locations((-70, 0)):
            Rectangle(SKETCH6_W, SKETCH6_H)
    extrude(amount=BOSS_EXTRUDE4_DEPTH)

    # Sketch7 → Boss-Extrude5 (add)
    with BuildSketch(Plane(origin=(65, 0, 0), x_dir=(0, 0, -1), z_dir=(1, 0, 0))):
        with Locations((0, -70)):
            Rectangle(SKETCH7_W, SKETCH7_H)
    extrude(amount=BOSS_EXTRUDE5_DEPTH)

    # Fillet2
    fillet2_edges = [part.edges().sort_by_distance(p)[0] for p in [
        (75, 75, 0),
        (-75, 75, 0),
        (75, -75, 0),
    ]]
    fillet(fillet2_edges, radius=FILLET2_R)

    # Sketch3 → Cut-Extrude4 (cut, two sides: drawn at the far end of the back side and taken through both)
    with BuildSketch(Plane(origin=(0, 0, -2.5), x_dir=(-1, 0, 0), z_dir=(0, 0, -1)).offset(-CUT_EXTRUDE4_DEPTH_BACK)):
        with Locations((44.493903346, -44.493903346)):
            Circle(SKETCH3_R)
        with Locations((62.171572875, -62.171572875)):
            Circle(SKETCH3_R)
        with Locations((55.100505063, -55.100505063)):
            Circle(SKETCH3_R)
    extrude(amount=CUT_EXTRUDE4_DEPTH + CUT_EXTRUDE4_DEPTH_BACK, mode=Mode.SUBTRACT)

    # Fillet3
    fillet3_edges = [part.edges().sort_by_distance(p)[0] for p in [
        (0, -75, -2.5),
        (0, -75, 2.5),
        (-75, 0, -2.5),
        (-75, 0, 2.5),
        (0, 75, -2.5),
        (75, 0, -2.5),
        (72.071067812, 72.071067812, -2.5),
        (72.071067812, -72.071067812, -2.5),
        (-72.071067812, 72.071067812, -2.5),
        (0, 75, 2.5),
        (75, 0, 2.5),
        (72.071067812, 72.071067812, 2.5),
        (72.071067812, -72.071067812, 2.5),
        (-72.071067812, 72.071067812, 2.5),
    ]]
    fillet(fillet3_edges, radius=FILLET3_R)


solid = part.part
